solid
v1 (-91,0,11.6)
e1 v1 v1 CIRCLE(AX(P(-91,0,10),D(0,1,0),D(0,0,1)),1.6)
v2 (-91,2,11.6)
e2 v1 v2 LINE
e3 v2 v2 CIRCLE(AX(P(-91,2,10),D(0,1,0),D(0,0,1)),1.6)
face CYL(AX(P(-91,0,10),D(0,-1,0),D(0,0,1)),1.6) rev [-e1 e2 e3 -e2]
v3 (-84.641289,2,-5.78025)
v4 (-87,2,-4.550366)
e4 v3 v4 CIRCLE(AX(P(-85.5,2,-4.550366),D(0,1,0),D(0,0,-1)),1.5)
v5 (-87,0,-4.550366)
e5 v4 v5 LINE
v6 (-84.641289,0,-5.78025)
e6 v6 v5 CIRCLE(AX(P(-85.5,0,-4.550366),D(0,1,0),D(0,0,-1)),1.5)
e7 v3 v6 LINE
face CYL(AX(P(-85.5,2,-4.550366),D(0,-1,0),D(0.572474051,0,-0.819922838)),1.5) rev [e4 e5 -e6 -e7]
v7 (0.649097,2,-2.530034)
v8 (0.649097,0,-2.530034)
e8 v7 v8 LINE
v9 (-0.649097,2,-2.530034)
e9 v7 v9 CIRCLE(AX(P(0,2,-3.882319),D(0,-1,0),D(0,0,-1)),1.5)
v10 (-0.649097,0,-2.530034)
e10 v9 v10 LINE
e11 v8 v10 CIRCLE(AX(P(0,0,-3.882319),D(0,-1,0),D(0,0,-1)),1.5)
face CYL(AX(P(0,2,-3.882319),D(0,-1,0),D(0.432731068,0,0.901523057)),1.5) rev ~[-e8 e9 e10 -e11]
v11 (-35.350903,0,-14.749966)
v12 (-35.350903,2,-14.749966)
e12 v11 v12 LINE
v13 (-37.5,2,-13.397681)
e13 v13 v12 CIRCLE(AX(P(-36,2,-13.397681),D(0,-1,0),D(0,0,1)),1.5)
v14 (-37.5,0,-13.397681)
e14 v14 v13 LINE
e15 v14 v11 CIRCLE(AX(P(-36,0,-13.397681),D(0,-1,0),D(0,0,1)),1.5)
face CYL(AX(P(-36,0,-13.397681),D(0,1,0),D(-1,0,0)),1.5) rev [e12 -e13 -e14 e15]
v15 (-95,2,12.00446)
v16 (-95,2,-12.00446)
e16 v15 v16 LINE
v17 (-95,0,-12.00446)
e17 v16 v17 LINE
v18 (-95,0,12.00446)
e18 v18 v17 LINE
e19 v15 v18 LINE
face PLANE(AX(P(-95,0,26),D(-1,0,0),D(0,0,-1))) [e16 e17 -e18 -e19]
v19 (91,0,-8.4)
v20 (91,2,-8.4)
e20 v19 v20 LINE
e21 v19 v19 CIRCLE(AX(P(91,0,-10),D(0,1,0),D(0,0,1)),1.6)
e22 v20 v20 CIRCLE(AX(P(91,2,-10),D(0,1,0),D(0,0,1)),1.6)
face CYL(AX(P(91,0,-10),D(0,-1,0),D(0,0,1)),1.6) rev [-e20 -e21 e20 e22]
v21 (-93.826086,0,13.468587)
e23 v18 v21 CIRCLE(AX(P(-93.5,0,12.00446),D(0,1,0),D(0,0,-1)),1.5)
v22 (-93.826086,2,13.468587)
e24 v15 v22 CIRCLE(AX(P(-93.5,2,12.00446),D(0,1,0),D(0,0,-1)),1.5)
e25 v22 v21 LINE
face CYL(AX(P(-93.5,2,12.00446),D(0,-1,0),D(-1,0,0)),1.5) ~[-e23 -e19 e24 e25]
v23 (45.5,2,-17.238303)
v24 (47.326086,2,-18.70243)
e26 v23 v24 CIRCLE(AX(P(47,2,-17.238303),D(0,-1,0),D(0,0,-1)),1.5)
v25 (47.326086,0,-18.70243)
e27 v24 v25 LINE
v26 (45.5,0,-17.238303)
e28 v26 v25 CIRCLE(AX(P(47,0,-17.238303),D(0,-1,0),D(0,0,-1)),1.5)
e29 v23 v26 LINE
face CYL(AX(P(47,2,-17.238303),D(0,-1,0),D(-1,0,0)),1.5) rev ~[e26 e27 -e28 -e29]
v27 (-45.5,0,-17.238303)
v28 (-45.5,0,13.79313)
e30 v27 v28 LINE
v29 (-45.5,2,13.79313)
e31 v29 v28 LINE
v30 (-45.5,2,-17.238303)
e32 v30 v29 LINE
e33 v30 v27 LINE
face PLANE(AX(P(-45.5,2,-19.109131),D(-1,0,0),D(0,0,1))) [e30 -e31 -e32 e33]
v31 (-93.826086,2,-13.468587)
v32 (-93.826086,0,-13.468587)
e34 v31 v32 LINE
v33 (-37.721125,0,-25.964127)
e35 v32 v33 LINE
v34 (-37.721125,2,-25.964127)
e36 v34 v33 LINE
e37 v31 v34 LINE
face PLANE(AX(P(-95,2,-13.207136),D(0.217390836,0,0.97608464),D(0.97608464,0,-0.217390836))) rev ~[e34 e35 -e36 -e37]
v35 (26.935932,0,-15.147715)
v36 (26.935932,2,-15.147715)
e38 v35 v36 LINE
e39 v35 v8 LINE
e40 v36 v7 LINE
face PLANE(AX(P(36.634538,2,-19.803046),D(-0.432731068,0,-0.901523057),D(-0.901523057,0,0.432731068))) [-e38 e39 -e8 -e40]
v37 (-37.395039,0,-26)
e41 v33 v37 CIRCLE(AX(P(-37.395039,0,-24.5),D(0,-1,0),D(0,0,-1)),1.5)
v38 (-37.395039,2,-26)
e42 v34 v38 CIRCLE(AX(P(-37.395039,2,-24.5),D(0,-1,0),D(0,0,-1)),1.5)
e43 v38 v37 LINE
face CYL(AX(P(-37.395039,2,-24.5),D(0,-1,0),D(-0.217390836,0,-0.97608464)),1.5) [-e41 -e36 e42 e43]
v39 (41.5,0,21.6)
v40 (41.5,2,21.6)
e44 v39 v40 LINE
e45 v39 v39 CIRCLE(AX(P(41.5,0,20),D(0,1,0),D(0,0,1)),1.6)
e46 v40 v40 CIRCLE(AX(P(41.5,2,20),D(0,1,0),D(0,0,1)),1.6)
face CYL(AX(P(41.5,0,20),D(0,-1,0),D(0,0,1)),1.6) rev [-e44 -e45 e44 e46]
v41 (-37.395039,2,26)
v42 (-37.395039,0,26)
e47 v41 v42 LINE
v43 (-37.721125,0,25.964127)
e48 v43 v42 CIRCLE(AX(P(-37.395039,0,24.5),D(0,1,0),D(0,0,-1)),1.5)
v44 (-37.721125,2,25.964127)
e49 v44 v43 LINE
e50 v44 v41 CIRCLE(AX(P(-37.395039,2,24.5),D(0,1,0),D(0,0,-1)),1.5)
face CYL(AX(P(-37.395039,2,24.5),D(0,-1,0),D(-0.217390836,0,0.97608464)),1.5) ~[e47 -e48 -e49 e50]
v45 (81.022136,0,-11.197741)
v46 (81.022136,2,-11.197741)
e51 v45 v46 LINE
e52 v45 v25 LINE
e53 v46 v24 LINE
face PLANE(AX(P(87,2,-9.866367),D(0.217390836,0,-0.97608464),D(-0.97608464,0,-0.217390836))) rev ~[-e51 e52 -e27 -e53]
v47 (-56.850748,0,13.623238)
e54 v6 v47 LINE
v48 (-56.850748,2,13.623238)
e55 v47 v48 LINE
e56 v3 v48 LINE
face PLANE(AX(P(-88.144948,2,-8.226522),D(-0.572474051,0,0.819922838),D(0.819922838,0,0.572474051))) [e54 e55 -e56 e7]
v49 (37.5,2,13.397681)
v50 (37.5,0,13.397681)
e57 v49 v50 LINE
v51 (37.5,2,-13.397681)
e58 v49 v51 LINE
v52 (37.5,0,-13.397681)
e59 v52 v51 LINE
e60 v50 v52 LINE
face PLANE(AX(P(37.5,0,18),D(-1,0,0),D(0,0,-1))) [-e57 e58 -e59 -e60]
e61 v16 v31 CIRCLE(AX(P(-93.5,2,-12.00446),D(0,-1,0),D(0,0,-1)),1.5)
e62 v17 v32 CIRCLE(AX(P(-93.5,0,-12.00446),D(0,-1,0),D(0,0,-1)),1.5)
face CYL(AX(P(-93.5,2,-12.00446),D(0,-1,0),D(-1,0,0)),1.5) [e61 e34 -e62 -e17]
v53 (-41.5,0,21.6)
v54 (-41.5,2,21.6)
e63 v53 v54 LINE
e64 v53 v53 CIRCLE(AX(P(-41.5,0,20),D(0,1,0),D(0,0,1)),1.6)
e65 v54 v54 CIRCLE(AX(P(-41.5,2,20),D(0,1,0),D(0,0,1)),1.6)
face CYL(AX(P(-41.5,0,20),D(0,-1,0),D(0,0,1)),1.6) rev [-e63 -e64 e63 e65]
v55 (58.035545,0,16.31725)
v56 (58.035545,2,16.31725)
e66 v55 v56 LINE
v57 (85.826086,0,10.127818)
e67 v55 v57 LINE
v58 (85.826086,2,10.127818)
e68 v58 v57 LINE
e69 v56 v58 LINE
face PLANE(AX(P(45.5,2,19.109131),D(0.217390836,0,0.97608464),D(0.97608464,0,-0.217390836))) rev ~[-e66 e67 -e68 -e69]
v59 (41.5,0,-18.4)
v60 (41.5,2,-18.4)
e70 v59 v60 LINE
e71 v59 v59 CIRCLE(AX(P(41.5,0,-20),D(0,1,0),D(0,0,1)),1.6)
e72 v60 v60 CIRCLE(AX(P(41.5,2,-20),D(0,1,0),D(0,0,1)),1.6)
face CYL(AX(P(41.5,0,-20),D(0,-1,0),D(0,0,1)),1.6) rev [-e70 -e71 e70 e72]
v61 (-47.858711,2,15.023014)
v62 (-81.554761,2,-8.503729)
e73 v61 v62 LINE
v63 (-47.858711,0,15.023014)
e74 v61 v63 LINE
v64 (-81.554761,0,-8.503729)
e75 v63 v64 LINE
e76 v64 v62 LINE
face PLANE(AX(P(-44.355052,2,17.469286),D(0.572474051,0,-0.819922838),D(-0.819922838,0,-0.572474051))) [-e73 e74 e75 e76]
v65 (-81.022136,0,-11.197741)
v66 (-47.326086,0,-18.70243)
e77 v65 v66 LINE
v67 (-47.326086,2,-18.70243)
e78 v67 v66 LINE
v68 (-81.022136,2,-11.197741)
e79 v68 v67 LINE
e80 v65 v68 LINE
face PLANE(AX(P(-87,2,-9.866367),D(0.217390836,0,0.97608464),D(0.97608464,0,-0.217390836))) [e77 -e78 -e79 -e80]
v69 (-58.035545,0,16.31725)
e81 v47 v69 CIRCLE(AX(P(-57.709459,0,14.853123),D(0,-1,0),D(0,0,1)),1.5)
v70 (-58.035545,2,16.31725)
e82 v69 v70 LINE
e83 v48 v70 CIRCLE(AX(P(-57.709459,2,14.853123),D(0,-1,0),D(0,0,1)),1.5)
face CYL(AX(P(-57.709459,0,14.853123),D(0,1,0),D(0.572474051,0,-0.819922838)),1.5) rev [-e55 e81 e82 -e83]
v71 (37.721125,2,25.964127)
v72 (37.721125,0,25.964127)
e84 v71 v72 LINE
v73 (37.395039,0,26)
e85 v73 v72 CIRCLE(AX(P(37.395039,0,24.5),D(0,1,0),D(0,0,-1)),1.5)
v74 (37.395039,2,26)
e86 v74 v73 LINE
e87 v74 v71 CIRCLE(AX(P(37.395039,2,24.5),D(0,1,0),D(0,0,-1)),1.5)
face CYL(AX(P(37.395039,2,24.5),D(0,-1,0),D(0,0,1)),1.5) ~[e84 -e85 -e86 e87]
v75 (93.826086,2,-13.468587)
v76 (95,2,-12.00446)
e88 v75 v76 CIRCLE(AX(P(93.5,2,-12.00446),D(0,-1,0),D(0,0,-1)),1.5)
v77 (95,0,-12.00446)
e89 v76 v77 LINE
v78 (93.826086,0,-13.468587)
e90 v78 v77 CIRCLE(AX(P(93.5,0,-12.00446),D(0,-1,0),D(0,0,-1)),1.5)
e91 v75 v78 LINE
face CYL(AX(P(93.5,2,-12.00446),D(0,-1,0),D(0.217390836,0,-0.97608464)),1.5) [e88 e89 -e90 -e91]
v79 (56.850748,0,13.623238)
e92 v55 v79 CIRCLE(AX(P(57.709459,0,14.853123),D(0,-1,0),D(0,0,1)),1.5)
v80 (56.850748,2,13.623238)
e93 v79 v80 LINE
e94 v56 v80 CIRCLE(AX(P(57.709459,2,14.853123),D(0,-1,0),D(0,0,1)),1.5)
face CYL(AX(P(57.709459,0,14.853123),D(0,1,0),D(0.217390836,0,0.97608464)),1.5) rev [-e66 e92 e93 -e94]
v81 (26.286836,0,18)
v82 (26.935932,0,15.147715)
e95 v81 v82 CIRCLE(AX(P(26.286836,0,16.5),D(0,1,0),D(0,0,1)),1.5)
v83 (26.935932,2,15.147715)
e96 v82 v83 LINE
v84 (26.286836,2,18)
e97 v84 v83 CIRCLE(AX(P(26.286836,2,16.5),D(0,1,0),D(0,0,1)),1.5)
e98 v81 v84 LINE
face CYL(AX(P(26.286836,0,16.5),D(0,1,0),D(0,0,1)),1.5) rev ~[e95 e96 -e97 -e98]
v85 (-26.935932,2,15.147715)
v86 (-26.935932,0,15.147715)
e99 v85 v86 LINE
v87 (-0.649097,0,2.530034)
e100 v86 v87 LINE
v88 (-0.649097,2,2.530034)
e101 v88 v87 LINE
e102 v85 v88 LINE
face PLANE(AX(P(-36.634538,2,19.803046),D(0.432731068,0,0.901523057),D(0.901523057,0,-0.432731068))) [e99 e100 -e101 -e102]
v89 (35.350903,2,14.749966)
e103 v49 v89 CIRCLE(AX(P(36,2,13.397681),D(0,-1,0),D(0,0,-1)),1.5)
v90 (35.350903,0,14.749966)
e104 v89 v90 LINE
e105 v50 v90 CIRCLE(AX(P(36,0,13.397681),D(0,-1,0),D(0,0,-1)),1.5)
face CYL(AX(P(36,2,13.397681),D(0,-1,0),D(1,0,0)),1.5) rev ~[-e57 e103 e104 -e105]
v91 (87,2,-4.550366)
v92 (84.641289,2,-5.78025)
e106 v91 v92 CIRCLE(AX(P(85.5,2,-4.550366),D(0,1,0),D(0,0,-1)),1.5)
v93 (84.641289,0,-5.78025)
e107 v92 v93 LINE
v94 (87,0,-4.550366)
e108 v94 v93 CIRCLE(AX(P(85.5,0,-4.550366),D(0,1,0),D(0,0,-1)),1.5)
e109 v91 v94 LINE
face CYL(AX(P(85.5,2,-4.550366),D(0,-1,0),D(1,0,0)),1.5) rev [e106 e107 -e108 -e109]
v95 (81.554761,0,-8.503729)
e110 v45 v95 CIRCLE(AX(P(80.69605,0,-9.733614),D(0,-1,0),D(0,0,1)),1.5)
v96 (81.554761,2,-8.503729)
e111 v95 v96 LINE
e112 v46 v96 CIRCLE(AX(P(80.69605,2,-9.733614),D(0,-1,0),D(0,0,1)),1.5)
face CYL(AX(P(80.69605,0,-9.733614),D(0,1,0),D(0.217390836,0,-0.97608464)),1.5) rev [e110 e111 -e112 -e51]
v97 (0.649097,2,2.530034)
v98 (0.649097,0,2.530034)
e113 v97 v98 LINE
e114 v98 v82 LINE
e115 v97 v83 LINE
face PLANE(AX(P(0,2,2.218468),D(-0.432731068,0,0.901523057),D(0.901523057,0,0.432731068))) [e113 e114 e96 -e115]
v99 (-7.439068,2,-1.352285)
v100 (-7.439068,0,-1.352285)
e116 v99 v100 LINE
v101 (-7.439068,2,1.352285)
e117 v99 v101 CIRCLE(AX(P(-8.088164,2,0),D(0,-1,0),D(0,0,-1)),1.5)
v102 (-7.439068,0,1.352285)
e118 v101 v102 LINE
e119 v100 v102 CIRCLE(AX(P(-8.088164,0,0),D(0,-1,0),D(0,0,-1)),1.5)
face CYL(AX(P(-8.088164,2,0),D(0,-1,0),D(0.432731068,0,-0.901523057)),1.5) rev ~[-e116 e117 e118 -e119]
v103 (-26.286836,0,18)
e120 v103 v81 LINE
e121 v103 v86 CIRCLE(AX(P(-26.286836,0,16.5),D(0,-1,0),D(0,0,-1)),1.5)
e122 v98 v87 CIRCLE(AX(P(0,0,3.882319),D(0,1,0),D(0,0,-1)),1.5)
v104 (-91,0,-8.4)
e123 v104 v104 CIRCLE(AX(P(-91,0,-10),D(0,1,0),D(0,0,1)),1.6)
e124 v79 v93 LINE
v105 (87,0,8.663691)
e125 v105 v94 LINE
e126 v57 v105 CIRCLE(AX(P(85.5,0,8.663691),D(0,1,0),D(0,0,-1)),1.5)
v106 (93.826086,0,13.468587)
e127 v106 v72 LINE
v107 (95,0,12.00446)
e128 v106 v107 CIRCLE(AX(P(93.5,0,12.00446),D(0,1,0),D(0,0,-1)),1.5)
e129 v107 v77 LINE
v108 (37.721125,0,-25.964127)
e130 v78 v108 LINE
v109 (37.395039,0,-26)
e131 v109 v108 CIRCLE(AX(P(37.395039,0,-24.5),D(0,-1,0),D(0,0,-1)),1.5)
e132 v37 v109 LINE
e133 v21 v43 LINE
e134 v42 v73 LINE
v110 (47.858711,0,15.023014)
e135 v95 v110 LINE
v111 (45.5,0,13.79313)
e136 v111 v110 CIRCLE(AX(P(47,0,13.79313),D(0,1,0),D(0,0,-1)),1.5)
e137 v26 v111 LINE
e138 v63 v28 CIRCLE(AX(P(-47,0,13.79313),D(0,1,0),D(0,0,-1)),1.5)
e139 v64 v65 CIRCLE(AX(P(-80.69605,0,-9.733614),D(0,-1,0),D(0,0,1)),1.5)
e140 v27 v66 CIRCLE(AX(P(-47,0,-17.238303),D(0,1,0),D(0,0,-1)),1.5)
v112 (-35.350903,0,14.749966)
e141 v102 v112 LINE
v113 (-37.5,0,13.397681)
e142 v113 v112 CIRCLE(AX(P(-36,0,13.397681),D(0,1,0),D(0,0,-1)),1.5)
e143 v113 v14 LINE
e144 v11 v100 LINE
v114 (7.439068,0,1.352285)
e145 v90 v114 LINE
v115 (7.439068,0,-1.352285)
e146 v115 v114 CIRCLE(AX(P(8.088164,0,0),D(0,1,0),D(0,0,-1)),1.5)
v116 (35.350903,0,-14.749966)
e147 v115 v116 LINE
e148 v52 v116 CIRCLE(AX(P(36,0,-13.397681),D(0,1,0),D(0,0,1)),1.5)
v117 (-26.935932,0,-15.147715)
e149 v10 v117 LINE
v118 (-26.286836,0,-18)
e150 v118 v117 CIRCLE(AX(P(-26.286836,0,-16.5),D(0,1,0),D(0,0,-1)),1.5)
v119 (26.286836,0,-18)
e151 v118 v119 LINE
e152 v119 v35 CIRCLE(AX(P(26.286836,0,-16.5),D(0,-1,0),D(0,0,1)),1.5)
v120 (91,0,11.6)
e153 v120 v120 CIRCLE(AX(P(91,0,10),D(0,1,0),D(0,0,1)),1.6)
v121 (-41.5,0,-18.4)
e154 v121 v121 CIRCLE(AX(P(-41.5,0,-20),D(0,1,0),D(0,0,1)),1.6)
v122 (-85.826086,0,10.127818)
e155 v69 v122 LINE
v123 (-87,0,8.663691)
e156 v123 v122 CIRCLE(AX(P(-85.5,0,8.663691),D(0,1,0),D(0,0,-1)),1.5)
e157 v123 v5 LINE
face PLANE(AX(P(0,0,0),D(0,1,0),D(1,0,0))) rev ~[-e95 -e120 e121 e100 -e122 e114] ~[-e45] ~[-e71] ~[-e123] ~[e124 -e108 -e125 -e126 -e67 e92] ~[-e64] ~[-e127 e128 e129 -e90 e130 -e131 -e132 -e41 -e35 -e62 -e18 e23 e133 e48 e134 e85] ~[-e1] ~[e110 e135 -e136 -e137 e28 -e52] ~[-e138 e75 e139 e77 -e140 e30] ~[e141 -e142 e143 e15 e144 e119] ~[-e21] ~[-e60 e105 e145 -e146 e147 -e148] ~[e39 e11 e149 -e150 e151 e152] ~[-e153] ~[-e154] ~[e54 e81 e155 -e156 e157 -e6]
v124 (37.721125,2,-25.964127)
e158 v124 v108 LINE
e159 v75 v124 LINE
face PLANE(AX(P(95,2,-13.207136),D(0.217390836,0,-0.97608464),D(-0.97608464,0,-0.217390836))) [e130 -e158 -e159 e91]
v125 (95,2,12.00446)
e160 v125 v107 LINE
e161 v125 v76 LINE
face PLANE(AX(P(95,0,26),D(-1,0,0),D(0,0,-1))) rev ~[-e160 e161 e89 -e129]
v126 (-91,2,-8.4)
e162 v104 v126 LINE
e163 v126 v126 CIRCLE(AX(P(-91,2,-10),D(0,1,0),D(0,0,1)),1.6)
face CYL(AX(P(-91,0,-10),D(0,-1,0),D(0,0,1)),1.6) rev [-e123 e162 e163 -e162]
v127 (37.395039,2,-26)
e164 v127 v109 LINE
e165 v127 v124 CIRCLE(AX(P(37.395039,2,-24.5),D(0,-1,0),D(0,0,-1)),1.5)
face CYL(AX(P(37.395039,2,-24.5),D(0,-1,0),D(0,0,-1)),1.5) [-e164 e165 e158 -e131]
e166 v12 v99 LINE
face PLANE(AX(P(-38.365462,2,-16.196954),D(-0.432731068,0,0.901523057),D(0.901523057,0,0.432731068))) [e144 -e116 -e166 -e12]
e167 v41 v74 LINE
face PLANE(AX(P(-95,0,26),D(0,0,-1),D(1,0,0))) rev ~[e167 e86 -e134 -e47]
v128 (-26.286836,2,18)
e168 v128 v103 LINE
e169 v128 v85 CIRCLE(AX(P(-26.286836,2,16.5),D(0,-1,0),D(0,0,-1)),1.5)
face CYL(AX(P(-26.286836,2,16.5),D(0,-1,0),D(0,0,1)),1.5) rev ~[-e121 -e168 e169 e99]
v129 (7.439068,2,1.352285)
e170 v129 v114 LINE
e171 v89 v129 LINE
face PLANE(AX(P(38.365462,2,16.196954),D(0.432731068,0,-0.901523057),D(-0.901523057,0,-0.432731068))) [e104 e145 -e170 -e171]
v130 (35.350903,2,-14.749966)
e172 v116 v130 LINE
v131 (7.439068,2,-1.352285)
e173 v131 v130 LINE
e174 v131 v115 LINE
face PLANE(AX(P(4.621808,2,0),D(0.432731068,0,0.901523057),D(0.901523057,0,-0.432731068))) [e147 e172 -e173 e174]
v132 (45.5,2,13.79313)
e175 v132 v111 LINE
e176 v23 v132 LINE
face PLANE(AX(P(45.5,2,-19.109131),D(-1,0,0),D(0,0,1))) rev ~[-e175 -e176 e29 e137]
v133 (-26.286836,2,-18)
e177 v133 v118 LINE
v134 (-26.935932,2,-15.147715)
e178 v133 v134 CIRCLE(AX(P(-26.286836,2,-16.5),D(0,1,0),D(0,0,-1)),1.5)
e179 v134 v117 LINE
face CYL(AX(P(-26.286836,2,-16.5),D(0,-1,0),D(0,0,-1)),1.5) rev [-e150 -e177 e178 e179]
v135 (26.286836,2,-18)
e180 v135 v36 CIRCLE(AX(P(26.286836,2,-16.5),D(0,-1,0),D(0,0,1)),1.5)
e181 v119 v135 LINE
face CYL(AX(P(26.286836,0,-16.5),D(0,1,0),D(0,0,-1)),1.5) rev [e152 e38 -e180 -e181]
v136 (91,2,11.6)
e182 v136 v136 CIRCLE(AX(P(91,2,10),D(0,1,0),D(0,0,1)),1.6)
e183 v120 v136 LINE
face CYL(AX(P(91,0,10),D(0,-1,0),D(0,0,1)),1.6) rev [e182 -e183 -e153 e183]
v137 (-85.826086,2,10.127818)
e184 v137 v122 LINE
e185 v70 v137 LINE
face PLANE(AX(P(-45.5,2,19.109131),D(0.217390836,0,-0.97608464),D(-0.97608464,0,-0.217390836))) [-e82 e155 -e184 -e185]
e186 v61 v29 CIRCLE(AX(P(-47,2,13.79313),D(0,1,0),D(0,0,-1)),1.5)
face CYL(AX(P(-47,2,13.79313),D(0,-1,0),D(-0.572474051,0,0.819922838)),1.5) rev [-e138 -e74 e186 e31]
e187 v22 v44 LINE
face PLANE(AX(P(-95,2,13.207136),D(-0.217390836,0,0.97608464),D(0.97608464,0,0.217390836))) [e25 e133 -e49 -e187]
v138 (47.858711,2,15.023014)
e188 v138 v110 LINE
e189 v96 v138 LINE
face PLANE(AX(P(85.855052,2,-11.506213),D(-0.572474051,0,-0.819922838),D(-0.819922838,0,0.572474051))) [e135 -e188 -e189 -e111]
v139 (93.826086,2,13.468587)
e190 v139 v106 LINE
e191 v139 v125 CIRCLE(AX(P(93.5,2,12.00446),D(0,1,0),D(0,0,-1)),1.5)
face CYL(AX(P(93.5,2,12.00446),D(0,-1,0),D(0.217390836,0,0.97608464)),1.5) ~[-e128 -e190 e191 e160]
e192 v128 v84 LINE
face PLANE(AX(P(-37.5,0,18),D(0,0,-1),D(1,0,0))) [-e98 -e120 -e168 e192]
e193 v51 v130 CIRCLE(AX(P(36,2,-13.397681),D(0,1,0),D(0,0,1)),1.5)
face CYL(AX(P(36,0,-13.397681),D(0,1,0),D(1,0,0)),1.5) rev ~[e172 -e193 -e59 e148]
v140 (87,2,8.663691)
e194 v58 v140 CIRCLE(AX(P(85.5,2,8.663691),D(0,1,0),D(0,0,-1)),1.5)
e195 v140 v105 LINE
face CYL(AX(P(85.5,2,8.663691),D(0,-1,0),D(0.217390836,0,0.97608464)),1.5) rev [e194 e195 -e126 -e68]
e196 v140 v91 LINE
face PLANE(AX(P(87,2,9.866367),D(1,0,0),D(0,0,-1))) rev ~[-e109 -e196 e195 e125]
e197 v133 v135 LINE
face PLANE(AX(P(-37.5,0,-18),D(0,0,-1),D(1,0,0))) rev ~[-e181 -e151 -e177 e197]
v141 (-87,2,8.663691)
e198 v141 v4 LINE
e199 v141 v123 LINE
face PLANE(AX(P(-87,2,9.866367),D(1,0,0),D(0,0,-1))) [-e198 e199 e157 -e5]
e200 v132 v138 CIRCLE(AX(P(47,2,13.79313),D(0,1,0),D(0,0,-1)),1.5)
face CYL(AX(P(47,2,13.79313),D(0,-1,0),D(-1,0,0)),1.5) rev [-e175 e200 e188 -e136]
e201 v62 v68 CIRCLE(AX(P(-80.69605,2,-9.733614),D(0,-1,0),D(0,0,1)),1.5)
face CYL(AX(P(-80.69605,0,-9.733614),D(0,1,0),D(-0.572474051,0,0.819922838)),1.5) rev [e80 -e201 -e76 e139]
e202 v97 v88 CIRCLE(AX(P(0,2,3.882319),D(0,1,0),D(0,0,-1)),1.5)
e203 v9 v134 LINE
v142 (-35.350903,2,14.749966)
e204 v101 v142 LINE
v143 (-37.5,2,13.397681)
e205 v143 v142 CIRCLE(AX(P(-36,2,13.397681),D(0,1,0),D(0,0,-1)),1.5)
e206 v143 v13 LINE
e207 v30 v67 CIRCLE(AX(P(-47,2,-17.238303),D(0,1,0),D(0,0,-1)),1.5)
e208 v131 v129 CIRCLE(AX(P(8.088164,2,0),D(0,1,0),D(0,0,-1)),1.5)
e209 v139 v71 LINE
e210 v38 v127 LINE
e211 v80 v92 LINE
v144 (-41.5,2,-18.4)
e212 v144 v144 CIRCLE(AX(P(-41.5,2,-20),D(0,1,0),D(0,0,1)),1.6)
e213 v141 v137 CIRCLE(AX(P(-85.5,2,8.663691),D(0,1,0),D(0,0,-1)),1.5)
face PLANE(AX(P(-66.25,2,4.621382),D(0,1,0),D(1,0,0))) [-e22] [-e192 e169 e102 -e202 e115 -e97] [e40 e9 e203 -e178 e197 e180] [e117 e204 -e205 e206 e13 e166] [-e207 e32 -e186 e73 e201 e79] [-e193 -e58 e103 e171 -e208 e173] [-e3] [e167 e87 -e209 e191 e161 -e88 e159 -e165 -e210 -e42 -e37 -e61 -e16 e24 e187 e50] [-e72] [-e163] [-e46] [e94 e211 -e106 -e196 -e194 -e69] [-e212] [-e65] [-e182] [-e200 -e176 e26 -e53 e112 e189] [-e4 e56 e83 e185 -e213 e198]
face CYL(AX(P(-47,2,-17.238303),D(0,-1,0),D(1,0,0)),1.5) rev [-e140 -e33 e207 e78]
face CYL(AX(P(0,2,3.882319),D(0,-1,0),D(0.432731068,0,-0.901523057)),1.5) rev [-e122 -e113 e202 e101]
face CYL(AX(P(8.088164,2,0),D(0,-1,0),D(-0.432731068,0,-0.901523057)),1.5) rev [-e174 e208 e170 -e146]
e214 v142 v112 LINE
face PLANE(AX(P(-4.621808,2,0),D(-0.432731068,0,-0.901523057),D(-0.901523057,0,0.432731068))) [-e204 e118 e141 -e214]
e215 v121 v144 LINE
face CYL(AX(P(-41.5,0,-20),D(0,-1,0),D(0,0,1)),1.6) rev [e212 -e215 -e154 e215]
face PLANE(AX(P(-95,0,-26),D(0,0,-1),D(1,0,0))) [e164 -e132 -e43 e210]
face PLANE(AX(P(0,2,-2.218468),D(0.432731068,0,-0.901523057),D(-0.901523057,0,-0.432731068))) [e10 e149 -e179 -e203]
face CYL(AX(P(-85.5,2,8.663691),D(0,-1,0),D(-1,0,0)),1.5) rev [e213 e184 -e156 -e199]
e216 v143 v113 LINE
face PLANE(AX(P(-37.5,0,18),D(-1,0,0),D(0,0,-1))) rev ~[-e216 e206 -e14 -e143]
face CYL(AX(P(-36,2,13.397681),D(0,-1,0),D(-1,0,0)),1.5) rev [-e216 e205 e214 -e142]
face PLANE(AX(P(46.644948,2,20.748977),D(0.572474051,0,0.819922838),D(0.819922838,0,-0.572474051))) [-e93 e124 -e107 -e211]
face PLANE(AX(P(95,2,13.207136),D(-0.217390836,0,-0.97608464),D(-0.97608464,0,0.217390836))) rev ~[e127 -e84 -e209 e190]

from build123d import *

# Parameters (mm, degrees)
SKETCH_1_W          = 190
SKETCH_1_H          = 52
SKETCH_1_R          = 1.6
SKETCH_1_W_2        = 75
SKETCH_1_H_2        = 36
EXTRUDE_1_DEPTH     = 2
CUT_EXTRUDE_1_DEPTH = 2
EXTRUDE_1_2_DEPTH   = 2
FILLET_1_R          = 1.5


with BuildPart() as part:
    # 草图1 → Extrude 1 (new body)
    with BuildSketch(Plane(origin=(0, 0, 0), x_dir=(1, 0, 0), z_dir=(0, 1, 0))):
        Rectangle(SKETCH_1_W, SKETCH_1_H)
        with Locations(Location((91, -10, 0), (0, 0, 270))):
            Circle(SKETCH_1_R, mode=Mode.SUBTRACT)
        with Locations(Location((91, 10, 0), (0, 0, 270))):
            Circle(SKETCH_1_R, mode=Mode.SUBTRACT)
        with Locations(Location((-91, 10, 0), (0, 0, 270))):
            Circle(SKETCH_1_R, mode=Mode.SUBTRACT)
        with Locations(Location((-91, -10, 0), (0, 0, 270))):
            Circle(SKETCH_1_R, mode=Mode.SUBTRACT)
        with Locations(Location((41.5, -20, 0), (0, 0, 270))):
            Circle(SKETCH_1_R, mode=Mode.SUBTRACT)
        with Locations(Location((-41.5, -20, 0), (0, 0, 270))):
            Circle(SKETCH_1_R, mode=Mode.SUBTRACT)
        with Locations(Location((-41.5, 20, 0), (0, 0, 270))):
            Circle(SKETCH_1_R, mode=Mode.SUBTRACT)
        with Locations(Location((41.5, 20, 0), (0, 0, 270))):
            Circle(SKETCH_1_R, mode=Mode.SUBTRACT)
        Rectangle(SKETCH_1_W_2, SKETCH_1_H_2, mode=Mode.SUBTRACT)
    extrude(amount=EXTRUDE_1_DEPTH)

    # 草图2 → 切除-拉伸1 (cut)
    with BuildSketch(Plane(origin=(0, 2, 0), x_dir=(1, 0, 0), z_dir=(0, 1, 0))):
        Polygon((95, 13.207136478), (37.560055456, 26), (95, 26), align=None)
        Polygon((37.560055456, -26), (95, -26), (95, -13.207136478), align=None)
        Polygon((-95, -26), (-95, -13.207136478), (-37.560055456, -26), align=None)
        Polygon((-95, 26), (-95, 13.207136478), (-37.560055456, 26), align=None)
        Polygon((45.5, 19.109131207), (45.5, -19.109131207), (87, -9.866367475), (87, 9.866367475), align=None)
        Polygon((-87, -9.866367475), (-87, 9.866367475), (-45.5, 19.109131207), (-45.5, -19.109131207), align=None)
    extrude(amount=-CUT_EXTRUDE_1_DEPTH, mode=Mode.SUBTRACT)

    # 草图3 → Extrude 1 2 (add)
    with BuildSketch(Plane(origin=(0, 2, 0), x_dir=(1, 0, 0), z_dir=(0, 1, 0))):
        Polygon((-44.355051898, -17.46928553), (-85.855051898, 11.506213152), (-88.144948102, 8.226521799), (-46.644948102, -20.748976883), align=None)
        Polygon((36.634537865, 19.803046115), (-38.365462135, -16.196953885), (-36.634537865, -19.803046115), (38.365462135, 16.196953885), align=None)
        Polygon((-38.365462135, 16.196953885), (36.634537865, -19.803046115), (38.365462135, -16.196953885), (-36.634537865, 19.803046115), align=None)
        Polygon((46.644948102, -20.748976883), (88.144948102, 8.226521799), (85.855051898, 11.506213152), (44.355051898, -17.46928553), align=None)
    extrude(amount=-EXTRUDE_1_2_DEPTH)

    # 圆角1
    fillet_1_edges = [part.edges().sort_by_distance(p)[0] for p in [
        (-87, 1, 9.866367475),
        (-45.5, 1, -19.109131207),
        (95, 1, -13.207136478),
        (37.560055456, 1, -26),
        (-45.5, 1, 16.669877284),
        (-87, 1, -7.427113552),
        (-50.630005448, 1, 17.966590766),
        (-84.351291466, 1, -10.456280419),
        (32.878191792, 1, 18),
        (-32.878191792, 1, 18),
        (-37.5, 1, -15.78153206),
        (-37.5, 1, 15.78153206),
        (-32.878191792, 1, -18),
        (32.878191792, 1, -18),
        (37.5, 1, 15.78153206),
        (37.5, 1, -15.78153206),
        (0, 1, -2.21846794),
        (0, 1, 2.21846794),
        (4.621808208, 1, 0),
        (-4.621808208, 1, 0),
        (45.5, 1, 16.669877284),
        (50.630005448, 1, 17.966590766),
        (87, 1, -7.427113552),
        (84.351291466, 1, -10.456280419),
        (45.5, 1, -19.109131207),
        (87, 1, 9.866367475),
        (-37.560055456, 1, -26),
        (-95, 1, -13.207136478),
        (-37.560055456, 1, 26),
        (-95, 1, 13.207136478),
        (37.560055456, 1, 26),
        (95, 1, 13.207136478),
    ]]
    fillet(fillet_1_edges, radius=FILLET_1_R)


solid = part.part
